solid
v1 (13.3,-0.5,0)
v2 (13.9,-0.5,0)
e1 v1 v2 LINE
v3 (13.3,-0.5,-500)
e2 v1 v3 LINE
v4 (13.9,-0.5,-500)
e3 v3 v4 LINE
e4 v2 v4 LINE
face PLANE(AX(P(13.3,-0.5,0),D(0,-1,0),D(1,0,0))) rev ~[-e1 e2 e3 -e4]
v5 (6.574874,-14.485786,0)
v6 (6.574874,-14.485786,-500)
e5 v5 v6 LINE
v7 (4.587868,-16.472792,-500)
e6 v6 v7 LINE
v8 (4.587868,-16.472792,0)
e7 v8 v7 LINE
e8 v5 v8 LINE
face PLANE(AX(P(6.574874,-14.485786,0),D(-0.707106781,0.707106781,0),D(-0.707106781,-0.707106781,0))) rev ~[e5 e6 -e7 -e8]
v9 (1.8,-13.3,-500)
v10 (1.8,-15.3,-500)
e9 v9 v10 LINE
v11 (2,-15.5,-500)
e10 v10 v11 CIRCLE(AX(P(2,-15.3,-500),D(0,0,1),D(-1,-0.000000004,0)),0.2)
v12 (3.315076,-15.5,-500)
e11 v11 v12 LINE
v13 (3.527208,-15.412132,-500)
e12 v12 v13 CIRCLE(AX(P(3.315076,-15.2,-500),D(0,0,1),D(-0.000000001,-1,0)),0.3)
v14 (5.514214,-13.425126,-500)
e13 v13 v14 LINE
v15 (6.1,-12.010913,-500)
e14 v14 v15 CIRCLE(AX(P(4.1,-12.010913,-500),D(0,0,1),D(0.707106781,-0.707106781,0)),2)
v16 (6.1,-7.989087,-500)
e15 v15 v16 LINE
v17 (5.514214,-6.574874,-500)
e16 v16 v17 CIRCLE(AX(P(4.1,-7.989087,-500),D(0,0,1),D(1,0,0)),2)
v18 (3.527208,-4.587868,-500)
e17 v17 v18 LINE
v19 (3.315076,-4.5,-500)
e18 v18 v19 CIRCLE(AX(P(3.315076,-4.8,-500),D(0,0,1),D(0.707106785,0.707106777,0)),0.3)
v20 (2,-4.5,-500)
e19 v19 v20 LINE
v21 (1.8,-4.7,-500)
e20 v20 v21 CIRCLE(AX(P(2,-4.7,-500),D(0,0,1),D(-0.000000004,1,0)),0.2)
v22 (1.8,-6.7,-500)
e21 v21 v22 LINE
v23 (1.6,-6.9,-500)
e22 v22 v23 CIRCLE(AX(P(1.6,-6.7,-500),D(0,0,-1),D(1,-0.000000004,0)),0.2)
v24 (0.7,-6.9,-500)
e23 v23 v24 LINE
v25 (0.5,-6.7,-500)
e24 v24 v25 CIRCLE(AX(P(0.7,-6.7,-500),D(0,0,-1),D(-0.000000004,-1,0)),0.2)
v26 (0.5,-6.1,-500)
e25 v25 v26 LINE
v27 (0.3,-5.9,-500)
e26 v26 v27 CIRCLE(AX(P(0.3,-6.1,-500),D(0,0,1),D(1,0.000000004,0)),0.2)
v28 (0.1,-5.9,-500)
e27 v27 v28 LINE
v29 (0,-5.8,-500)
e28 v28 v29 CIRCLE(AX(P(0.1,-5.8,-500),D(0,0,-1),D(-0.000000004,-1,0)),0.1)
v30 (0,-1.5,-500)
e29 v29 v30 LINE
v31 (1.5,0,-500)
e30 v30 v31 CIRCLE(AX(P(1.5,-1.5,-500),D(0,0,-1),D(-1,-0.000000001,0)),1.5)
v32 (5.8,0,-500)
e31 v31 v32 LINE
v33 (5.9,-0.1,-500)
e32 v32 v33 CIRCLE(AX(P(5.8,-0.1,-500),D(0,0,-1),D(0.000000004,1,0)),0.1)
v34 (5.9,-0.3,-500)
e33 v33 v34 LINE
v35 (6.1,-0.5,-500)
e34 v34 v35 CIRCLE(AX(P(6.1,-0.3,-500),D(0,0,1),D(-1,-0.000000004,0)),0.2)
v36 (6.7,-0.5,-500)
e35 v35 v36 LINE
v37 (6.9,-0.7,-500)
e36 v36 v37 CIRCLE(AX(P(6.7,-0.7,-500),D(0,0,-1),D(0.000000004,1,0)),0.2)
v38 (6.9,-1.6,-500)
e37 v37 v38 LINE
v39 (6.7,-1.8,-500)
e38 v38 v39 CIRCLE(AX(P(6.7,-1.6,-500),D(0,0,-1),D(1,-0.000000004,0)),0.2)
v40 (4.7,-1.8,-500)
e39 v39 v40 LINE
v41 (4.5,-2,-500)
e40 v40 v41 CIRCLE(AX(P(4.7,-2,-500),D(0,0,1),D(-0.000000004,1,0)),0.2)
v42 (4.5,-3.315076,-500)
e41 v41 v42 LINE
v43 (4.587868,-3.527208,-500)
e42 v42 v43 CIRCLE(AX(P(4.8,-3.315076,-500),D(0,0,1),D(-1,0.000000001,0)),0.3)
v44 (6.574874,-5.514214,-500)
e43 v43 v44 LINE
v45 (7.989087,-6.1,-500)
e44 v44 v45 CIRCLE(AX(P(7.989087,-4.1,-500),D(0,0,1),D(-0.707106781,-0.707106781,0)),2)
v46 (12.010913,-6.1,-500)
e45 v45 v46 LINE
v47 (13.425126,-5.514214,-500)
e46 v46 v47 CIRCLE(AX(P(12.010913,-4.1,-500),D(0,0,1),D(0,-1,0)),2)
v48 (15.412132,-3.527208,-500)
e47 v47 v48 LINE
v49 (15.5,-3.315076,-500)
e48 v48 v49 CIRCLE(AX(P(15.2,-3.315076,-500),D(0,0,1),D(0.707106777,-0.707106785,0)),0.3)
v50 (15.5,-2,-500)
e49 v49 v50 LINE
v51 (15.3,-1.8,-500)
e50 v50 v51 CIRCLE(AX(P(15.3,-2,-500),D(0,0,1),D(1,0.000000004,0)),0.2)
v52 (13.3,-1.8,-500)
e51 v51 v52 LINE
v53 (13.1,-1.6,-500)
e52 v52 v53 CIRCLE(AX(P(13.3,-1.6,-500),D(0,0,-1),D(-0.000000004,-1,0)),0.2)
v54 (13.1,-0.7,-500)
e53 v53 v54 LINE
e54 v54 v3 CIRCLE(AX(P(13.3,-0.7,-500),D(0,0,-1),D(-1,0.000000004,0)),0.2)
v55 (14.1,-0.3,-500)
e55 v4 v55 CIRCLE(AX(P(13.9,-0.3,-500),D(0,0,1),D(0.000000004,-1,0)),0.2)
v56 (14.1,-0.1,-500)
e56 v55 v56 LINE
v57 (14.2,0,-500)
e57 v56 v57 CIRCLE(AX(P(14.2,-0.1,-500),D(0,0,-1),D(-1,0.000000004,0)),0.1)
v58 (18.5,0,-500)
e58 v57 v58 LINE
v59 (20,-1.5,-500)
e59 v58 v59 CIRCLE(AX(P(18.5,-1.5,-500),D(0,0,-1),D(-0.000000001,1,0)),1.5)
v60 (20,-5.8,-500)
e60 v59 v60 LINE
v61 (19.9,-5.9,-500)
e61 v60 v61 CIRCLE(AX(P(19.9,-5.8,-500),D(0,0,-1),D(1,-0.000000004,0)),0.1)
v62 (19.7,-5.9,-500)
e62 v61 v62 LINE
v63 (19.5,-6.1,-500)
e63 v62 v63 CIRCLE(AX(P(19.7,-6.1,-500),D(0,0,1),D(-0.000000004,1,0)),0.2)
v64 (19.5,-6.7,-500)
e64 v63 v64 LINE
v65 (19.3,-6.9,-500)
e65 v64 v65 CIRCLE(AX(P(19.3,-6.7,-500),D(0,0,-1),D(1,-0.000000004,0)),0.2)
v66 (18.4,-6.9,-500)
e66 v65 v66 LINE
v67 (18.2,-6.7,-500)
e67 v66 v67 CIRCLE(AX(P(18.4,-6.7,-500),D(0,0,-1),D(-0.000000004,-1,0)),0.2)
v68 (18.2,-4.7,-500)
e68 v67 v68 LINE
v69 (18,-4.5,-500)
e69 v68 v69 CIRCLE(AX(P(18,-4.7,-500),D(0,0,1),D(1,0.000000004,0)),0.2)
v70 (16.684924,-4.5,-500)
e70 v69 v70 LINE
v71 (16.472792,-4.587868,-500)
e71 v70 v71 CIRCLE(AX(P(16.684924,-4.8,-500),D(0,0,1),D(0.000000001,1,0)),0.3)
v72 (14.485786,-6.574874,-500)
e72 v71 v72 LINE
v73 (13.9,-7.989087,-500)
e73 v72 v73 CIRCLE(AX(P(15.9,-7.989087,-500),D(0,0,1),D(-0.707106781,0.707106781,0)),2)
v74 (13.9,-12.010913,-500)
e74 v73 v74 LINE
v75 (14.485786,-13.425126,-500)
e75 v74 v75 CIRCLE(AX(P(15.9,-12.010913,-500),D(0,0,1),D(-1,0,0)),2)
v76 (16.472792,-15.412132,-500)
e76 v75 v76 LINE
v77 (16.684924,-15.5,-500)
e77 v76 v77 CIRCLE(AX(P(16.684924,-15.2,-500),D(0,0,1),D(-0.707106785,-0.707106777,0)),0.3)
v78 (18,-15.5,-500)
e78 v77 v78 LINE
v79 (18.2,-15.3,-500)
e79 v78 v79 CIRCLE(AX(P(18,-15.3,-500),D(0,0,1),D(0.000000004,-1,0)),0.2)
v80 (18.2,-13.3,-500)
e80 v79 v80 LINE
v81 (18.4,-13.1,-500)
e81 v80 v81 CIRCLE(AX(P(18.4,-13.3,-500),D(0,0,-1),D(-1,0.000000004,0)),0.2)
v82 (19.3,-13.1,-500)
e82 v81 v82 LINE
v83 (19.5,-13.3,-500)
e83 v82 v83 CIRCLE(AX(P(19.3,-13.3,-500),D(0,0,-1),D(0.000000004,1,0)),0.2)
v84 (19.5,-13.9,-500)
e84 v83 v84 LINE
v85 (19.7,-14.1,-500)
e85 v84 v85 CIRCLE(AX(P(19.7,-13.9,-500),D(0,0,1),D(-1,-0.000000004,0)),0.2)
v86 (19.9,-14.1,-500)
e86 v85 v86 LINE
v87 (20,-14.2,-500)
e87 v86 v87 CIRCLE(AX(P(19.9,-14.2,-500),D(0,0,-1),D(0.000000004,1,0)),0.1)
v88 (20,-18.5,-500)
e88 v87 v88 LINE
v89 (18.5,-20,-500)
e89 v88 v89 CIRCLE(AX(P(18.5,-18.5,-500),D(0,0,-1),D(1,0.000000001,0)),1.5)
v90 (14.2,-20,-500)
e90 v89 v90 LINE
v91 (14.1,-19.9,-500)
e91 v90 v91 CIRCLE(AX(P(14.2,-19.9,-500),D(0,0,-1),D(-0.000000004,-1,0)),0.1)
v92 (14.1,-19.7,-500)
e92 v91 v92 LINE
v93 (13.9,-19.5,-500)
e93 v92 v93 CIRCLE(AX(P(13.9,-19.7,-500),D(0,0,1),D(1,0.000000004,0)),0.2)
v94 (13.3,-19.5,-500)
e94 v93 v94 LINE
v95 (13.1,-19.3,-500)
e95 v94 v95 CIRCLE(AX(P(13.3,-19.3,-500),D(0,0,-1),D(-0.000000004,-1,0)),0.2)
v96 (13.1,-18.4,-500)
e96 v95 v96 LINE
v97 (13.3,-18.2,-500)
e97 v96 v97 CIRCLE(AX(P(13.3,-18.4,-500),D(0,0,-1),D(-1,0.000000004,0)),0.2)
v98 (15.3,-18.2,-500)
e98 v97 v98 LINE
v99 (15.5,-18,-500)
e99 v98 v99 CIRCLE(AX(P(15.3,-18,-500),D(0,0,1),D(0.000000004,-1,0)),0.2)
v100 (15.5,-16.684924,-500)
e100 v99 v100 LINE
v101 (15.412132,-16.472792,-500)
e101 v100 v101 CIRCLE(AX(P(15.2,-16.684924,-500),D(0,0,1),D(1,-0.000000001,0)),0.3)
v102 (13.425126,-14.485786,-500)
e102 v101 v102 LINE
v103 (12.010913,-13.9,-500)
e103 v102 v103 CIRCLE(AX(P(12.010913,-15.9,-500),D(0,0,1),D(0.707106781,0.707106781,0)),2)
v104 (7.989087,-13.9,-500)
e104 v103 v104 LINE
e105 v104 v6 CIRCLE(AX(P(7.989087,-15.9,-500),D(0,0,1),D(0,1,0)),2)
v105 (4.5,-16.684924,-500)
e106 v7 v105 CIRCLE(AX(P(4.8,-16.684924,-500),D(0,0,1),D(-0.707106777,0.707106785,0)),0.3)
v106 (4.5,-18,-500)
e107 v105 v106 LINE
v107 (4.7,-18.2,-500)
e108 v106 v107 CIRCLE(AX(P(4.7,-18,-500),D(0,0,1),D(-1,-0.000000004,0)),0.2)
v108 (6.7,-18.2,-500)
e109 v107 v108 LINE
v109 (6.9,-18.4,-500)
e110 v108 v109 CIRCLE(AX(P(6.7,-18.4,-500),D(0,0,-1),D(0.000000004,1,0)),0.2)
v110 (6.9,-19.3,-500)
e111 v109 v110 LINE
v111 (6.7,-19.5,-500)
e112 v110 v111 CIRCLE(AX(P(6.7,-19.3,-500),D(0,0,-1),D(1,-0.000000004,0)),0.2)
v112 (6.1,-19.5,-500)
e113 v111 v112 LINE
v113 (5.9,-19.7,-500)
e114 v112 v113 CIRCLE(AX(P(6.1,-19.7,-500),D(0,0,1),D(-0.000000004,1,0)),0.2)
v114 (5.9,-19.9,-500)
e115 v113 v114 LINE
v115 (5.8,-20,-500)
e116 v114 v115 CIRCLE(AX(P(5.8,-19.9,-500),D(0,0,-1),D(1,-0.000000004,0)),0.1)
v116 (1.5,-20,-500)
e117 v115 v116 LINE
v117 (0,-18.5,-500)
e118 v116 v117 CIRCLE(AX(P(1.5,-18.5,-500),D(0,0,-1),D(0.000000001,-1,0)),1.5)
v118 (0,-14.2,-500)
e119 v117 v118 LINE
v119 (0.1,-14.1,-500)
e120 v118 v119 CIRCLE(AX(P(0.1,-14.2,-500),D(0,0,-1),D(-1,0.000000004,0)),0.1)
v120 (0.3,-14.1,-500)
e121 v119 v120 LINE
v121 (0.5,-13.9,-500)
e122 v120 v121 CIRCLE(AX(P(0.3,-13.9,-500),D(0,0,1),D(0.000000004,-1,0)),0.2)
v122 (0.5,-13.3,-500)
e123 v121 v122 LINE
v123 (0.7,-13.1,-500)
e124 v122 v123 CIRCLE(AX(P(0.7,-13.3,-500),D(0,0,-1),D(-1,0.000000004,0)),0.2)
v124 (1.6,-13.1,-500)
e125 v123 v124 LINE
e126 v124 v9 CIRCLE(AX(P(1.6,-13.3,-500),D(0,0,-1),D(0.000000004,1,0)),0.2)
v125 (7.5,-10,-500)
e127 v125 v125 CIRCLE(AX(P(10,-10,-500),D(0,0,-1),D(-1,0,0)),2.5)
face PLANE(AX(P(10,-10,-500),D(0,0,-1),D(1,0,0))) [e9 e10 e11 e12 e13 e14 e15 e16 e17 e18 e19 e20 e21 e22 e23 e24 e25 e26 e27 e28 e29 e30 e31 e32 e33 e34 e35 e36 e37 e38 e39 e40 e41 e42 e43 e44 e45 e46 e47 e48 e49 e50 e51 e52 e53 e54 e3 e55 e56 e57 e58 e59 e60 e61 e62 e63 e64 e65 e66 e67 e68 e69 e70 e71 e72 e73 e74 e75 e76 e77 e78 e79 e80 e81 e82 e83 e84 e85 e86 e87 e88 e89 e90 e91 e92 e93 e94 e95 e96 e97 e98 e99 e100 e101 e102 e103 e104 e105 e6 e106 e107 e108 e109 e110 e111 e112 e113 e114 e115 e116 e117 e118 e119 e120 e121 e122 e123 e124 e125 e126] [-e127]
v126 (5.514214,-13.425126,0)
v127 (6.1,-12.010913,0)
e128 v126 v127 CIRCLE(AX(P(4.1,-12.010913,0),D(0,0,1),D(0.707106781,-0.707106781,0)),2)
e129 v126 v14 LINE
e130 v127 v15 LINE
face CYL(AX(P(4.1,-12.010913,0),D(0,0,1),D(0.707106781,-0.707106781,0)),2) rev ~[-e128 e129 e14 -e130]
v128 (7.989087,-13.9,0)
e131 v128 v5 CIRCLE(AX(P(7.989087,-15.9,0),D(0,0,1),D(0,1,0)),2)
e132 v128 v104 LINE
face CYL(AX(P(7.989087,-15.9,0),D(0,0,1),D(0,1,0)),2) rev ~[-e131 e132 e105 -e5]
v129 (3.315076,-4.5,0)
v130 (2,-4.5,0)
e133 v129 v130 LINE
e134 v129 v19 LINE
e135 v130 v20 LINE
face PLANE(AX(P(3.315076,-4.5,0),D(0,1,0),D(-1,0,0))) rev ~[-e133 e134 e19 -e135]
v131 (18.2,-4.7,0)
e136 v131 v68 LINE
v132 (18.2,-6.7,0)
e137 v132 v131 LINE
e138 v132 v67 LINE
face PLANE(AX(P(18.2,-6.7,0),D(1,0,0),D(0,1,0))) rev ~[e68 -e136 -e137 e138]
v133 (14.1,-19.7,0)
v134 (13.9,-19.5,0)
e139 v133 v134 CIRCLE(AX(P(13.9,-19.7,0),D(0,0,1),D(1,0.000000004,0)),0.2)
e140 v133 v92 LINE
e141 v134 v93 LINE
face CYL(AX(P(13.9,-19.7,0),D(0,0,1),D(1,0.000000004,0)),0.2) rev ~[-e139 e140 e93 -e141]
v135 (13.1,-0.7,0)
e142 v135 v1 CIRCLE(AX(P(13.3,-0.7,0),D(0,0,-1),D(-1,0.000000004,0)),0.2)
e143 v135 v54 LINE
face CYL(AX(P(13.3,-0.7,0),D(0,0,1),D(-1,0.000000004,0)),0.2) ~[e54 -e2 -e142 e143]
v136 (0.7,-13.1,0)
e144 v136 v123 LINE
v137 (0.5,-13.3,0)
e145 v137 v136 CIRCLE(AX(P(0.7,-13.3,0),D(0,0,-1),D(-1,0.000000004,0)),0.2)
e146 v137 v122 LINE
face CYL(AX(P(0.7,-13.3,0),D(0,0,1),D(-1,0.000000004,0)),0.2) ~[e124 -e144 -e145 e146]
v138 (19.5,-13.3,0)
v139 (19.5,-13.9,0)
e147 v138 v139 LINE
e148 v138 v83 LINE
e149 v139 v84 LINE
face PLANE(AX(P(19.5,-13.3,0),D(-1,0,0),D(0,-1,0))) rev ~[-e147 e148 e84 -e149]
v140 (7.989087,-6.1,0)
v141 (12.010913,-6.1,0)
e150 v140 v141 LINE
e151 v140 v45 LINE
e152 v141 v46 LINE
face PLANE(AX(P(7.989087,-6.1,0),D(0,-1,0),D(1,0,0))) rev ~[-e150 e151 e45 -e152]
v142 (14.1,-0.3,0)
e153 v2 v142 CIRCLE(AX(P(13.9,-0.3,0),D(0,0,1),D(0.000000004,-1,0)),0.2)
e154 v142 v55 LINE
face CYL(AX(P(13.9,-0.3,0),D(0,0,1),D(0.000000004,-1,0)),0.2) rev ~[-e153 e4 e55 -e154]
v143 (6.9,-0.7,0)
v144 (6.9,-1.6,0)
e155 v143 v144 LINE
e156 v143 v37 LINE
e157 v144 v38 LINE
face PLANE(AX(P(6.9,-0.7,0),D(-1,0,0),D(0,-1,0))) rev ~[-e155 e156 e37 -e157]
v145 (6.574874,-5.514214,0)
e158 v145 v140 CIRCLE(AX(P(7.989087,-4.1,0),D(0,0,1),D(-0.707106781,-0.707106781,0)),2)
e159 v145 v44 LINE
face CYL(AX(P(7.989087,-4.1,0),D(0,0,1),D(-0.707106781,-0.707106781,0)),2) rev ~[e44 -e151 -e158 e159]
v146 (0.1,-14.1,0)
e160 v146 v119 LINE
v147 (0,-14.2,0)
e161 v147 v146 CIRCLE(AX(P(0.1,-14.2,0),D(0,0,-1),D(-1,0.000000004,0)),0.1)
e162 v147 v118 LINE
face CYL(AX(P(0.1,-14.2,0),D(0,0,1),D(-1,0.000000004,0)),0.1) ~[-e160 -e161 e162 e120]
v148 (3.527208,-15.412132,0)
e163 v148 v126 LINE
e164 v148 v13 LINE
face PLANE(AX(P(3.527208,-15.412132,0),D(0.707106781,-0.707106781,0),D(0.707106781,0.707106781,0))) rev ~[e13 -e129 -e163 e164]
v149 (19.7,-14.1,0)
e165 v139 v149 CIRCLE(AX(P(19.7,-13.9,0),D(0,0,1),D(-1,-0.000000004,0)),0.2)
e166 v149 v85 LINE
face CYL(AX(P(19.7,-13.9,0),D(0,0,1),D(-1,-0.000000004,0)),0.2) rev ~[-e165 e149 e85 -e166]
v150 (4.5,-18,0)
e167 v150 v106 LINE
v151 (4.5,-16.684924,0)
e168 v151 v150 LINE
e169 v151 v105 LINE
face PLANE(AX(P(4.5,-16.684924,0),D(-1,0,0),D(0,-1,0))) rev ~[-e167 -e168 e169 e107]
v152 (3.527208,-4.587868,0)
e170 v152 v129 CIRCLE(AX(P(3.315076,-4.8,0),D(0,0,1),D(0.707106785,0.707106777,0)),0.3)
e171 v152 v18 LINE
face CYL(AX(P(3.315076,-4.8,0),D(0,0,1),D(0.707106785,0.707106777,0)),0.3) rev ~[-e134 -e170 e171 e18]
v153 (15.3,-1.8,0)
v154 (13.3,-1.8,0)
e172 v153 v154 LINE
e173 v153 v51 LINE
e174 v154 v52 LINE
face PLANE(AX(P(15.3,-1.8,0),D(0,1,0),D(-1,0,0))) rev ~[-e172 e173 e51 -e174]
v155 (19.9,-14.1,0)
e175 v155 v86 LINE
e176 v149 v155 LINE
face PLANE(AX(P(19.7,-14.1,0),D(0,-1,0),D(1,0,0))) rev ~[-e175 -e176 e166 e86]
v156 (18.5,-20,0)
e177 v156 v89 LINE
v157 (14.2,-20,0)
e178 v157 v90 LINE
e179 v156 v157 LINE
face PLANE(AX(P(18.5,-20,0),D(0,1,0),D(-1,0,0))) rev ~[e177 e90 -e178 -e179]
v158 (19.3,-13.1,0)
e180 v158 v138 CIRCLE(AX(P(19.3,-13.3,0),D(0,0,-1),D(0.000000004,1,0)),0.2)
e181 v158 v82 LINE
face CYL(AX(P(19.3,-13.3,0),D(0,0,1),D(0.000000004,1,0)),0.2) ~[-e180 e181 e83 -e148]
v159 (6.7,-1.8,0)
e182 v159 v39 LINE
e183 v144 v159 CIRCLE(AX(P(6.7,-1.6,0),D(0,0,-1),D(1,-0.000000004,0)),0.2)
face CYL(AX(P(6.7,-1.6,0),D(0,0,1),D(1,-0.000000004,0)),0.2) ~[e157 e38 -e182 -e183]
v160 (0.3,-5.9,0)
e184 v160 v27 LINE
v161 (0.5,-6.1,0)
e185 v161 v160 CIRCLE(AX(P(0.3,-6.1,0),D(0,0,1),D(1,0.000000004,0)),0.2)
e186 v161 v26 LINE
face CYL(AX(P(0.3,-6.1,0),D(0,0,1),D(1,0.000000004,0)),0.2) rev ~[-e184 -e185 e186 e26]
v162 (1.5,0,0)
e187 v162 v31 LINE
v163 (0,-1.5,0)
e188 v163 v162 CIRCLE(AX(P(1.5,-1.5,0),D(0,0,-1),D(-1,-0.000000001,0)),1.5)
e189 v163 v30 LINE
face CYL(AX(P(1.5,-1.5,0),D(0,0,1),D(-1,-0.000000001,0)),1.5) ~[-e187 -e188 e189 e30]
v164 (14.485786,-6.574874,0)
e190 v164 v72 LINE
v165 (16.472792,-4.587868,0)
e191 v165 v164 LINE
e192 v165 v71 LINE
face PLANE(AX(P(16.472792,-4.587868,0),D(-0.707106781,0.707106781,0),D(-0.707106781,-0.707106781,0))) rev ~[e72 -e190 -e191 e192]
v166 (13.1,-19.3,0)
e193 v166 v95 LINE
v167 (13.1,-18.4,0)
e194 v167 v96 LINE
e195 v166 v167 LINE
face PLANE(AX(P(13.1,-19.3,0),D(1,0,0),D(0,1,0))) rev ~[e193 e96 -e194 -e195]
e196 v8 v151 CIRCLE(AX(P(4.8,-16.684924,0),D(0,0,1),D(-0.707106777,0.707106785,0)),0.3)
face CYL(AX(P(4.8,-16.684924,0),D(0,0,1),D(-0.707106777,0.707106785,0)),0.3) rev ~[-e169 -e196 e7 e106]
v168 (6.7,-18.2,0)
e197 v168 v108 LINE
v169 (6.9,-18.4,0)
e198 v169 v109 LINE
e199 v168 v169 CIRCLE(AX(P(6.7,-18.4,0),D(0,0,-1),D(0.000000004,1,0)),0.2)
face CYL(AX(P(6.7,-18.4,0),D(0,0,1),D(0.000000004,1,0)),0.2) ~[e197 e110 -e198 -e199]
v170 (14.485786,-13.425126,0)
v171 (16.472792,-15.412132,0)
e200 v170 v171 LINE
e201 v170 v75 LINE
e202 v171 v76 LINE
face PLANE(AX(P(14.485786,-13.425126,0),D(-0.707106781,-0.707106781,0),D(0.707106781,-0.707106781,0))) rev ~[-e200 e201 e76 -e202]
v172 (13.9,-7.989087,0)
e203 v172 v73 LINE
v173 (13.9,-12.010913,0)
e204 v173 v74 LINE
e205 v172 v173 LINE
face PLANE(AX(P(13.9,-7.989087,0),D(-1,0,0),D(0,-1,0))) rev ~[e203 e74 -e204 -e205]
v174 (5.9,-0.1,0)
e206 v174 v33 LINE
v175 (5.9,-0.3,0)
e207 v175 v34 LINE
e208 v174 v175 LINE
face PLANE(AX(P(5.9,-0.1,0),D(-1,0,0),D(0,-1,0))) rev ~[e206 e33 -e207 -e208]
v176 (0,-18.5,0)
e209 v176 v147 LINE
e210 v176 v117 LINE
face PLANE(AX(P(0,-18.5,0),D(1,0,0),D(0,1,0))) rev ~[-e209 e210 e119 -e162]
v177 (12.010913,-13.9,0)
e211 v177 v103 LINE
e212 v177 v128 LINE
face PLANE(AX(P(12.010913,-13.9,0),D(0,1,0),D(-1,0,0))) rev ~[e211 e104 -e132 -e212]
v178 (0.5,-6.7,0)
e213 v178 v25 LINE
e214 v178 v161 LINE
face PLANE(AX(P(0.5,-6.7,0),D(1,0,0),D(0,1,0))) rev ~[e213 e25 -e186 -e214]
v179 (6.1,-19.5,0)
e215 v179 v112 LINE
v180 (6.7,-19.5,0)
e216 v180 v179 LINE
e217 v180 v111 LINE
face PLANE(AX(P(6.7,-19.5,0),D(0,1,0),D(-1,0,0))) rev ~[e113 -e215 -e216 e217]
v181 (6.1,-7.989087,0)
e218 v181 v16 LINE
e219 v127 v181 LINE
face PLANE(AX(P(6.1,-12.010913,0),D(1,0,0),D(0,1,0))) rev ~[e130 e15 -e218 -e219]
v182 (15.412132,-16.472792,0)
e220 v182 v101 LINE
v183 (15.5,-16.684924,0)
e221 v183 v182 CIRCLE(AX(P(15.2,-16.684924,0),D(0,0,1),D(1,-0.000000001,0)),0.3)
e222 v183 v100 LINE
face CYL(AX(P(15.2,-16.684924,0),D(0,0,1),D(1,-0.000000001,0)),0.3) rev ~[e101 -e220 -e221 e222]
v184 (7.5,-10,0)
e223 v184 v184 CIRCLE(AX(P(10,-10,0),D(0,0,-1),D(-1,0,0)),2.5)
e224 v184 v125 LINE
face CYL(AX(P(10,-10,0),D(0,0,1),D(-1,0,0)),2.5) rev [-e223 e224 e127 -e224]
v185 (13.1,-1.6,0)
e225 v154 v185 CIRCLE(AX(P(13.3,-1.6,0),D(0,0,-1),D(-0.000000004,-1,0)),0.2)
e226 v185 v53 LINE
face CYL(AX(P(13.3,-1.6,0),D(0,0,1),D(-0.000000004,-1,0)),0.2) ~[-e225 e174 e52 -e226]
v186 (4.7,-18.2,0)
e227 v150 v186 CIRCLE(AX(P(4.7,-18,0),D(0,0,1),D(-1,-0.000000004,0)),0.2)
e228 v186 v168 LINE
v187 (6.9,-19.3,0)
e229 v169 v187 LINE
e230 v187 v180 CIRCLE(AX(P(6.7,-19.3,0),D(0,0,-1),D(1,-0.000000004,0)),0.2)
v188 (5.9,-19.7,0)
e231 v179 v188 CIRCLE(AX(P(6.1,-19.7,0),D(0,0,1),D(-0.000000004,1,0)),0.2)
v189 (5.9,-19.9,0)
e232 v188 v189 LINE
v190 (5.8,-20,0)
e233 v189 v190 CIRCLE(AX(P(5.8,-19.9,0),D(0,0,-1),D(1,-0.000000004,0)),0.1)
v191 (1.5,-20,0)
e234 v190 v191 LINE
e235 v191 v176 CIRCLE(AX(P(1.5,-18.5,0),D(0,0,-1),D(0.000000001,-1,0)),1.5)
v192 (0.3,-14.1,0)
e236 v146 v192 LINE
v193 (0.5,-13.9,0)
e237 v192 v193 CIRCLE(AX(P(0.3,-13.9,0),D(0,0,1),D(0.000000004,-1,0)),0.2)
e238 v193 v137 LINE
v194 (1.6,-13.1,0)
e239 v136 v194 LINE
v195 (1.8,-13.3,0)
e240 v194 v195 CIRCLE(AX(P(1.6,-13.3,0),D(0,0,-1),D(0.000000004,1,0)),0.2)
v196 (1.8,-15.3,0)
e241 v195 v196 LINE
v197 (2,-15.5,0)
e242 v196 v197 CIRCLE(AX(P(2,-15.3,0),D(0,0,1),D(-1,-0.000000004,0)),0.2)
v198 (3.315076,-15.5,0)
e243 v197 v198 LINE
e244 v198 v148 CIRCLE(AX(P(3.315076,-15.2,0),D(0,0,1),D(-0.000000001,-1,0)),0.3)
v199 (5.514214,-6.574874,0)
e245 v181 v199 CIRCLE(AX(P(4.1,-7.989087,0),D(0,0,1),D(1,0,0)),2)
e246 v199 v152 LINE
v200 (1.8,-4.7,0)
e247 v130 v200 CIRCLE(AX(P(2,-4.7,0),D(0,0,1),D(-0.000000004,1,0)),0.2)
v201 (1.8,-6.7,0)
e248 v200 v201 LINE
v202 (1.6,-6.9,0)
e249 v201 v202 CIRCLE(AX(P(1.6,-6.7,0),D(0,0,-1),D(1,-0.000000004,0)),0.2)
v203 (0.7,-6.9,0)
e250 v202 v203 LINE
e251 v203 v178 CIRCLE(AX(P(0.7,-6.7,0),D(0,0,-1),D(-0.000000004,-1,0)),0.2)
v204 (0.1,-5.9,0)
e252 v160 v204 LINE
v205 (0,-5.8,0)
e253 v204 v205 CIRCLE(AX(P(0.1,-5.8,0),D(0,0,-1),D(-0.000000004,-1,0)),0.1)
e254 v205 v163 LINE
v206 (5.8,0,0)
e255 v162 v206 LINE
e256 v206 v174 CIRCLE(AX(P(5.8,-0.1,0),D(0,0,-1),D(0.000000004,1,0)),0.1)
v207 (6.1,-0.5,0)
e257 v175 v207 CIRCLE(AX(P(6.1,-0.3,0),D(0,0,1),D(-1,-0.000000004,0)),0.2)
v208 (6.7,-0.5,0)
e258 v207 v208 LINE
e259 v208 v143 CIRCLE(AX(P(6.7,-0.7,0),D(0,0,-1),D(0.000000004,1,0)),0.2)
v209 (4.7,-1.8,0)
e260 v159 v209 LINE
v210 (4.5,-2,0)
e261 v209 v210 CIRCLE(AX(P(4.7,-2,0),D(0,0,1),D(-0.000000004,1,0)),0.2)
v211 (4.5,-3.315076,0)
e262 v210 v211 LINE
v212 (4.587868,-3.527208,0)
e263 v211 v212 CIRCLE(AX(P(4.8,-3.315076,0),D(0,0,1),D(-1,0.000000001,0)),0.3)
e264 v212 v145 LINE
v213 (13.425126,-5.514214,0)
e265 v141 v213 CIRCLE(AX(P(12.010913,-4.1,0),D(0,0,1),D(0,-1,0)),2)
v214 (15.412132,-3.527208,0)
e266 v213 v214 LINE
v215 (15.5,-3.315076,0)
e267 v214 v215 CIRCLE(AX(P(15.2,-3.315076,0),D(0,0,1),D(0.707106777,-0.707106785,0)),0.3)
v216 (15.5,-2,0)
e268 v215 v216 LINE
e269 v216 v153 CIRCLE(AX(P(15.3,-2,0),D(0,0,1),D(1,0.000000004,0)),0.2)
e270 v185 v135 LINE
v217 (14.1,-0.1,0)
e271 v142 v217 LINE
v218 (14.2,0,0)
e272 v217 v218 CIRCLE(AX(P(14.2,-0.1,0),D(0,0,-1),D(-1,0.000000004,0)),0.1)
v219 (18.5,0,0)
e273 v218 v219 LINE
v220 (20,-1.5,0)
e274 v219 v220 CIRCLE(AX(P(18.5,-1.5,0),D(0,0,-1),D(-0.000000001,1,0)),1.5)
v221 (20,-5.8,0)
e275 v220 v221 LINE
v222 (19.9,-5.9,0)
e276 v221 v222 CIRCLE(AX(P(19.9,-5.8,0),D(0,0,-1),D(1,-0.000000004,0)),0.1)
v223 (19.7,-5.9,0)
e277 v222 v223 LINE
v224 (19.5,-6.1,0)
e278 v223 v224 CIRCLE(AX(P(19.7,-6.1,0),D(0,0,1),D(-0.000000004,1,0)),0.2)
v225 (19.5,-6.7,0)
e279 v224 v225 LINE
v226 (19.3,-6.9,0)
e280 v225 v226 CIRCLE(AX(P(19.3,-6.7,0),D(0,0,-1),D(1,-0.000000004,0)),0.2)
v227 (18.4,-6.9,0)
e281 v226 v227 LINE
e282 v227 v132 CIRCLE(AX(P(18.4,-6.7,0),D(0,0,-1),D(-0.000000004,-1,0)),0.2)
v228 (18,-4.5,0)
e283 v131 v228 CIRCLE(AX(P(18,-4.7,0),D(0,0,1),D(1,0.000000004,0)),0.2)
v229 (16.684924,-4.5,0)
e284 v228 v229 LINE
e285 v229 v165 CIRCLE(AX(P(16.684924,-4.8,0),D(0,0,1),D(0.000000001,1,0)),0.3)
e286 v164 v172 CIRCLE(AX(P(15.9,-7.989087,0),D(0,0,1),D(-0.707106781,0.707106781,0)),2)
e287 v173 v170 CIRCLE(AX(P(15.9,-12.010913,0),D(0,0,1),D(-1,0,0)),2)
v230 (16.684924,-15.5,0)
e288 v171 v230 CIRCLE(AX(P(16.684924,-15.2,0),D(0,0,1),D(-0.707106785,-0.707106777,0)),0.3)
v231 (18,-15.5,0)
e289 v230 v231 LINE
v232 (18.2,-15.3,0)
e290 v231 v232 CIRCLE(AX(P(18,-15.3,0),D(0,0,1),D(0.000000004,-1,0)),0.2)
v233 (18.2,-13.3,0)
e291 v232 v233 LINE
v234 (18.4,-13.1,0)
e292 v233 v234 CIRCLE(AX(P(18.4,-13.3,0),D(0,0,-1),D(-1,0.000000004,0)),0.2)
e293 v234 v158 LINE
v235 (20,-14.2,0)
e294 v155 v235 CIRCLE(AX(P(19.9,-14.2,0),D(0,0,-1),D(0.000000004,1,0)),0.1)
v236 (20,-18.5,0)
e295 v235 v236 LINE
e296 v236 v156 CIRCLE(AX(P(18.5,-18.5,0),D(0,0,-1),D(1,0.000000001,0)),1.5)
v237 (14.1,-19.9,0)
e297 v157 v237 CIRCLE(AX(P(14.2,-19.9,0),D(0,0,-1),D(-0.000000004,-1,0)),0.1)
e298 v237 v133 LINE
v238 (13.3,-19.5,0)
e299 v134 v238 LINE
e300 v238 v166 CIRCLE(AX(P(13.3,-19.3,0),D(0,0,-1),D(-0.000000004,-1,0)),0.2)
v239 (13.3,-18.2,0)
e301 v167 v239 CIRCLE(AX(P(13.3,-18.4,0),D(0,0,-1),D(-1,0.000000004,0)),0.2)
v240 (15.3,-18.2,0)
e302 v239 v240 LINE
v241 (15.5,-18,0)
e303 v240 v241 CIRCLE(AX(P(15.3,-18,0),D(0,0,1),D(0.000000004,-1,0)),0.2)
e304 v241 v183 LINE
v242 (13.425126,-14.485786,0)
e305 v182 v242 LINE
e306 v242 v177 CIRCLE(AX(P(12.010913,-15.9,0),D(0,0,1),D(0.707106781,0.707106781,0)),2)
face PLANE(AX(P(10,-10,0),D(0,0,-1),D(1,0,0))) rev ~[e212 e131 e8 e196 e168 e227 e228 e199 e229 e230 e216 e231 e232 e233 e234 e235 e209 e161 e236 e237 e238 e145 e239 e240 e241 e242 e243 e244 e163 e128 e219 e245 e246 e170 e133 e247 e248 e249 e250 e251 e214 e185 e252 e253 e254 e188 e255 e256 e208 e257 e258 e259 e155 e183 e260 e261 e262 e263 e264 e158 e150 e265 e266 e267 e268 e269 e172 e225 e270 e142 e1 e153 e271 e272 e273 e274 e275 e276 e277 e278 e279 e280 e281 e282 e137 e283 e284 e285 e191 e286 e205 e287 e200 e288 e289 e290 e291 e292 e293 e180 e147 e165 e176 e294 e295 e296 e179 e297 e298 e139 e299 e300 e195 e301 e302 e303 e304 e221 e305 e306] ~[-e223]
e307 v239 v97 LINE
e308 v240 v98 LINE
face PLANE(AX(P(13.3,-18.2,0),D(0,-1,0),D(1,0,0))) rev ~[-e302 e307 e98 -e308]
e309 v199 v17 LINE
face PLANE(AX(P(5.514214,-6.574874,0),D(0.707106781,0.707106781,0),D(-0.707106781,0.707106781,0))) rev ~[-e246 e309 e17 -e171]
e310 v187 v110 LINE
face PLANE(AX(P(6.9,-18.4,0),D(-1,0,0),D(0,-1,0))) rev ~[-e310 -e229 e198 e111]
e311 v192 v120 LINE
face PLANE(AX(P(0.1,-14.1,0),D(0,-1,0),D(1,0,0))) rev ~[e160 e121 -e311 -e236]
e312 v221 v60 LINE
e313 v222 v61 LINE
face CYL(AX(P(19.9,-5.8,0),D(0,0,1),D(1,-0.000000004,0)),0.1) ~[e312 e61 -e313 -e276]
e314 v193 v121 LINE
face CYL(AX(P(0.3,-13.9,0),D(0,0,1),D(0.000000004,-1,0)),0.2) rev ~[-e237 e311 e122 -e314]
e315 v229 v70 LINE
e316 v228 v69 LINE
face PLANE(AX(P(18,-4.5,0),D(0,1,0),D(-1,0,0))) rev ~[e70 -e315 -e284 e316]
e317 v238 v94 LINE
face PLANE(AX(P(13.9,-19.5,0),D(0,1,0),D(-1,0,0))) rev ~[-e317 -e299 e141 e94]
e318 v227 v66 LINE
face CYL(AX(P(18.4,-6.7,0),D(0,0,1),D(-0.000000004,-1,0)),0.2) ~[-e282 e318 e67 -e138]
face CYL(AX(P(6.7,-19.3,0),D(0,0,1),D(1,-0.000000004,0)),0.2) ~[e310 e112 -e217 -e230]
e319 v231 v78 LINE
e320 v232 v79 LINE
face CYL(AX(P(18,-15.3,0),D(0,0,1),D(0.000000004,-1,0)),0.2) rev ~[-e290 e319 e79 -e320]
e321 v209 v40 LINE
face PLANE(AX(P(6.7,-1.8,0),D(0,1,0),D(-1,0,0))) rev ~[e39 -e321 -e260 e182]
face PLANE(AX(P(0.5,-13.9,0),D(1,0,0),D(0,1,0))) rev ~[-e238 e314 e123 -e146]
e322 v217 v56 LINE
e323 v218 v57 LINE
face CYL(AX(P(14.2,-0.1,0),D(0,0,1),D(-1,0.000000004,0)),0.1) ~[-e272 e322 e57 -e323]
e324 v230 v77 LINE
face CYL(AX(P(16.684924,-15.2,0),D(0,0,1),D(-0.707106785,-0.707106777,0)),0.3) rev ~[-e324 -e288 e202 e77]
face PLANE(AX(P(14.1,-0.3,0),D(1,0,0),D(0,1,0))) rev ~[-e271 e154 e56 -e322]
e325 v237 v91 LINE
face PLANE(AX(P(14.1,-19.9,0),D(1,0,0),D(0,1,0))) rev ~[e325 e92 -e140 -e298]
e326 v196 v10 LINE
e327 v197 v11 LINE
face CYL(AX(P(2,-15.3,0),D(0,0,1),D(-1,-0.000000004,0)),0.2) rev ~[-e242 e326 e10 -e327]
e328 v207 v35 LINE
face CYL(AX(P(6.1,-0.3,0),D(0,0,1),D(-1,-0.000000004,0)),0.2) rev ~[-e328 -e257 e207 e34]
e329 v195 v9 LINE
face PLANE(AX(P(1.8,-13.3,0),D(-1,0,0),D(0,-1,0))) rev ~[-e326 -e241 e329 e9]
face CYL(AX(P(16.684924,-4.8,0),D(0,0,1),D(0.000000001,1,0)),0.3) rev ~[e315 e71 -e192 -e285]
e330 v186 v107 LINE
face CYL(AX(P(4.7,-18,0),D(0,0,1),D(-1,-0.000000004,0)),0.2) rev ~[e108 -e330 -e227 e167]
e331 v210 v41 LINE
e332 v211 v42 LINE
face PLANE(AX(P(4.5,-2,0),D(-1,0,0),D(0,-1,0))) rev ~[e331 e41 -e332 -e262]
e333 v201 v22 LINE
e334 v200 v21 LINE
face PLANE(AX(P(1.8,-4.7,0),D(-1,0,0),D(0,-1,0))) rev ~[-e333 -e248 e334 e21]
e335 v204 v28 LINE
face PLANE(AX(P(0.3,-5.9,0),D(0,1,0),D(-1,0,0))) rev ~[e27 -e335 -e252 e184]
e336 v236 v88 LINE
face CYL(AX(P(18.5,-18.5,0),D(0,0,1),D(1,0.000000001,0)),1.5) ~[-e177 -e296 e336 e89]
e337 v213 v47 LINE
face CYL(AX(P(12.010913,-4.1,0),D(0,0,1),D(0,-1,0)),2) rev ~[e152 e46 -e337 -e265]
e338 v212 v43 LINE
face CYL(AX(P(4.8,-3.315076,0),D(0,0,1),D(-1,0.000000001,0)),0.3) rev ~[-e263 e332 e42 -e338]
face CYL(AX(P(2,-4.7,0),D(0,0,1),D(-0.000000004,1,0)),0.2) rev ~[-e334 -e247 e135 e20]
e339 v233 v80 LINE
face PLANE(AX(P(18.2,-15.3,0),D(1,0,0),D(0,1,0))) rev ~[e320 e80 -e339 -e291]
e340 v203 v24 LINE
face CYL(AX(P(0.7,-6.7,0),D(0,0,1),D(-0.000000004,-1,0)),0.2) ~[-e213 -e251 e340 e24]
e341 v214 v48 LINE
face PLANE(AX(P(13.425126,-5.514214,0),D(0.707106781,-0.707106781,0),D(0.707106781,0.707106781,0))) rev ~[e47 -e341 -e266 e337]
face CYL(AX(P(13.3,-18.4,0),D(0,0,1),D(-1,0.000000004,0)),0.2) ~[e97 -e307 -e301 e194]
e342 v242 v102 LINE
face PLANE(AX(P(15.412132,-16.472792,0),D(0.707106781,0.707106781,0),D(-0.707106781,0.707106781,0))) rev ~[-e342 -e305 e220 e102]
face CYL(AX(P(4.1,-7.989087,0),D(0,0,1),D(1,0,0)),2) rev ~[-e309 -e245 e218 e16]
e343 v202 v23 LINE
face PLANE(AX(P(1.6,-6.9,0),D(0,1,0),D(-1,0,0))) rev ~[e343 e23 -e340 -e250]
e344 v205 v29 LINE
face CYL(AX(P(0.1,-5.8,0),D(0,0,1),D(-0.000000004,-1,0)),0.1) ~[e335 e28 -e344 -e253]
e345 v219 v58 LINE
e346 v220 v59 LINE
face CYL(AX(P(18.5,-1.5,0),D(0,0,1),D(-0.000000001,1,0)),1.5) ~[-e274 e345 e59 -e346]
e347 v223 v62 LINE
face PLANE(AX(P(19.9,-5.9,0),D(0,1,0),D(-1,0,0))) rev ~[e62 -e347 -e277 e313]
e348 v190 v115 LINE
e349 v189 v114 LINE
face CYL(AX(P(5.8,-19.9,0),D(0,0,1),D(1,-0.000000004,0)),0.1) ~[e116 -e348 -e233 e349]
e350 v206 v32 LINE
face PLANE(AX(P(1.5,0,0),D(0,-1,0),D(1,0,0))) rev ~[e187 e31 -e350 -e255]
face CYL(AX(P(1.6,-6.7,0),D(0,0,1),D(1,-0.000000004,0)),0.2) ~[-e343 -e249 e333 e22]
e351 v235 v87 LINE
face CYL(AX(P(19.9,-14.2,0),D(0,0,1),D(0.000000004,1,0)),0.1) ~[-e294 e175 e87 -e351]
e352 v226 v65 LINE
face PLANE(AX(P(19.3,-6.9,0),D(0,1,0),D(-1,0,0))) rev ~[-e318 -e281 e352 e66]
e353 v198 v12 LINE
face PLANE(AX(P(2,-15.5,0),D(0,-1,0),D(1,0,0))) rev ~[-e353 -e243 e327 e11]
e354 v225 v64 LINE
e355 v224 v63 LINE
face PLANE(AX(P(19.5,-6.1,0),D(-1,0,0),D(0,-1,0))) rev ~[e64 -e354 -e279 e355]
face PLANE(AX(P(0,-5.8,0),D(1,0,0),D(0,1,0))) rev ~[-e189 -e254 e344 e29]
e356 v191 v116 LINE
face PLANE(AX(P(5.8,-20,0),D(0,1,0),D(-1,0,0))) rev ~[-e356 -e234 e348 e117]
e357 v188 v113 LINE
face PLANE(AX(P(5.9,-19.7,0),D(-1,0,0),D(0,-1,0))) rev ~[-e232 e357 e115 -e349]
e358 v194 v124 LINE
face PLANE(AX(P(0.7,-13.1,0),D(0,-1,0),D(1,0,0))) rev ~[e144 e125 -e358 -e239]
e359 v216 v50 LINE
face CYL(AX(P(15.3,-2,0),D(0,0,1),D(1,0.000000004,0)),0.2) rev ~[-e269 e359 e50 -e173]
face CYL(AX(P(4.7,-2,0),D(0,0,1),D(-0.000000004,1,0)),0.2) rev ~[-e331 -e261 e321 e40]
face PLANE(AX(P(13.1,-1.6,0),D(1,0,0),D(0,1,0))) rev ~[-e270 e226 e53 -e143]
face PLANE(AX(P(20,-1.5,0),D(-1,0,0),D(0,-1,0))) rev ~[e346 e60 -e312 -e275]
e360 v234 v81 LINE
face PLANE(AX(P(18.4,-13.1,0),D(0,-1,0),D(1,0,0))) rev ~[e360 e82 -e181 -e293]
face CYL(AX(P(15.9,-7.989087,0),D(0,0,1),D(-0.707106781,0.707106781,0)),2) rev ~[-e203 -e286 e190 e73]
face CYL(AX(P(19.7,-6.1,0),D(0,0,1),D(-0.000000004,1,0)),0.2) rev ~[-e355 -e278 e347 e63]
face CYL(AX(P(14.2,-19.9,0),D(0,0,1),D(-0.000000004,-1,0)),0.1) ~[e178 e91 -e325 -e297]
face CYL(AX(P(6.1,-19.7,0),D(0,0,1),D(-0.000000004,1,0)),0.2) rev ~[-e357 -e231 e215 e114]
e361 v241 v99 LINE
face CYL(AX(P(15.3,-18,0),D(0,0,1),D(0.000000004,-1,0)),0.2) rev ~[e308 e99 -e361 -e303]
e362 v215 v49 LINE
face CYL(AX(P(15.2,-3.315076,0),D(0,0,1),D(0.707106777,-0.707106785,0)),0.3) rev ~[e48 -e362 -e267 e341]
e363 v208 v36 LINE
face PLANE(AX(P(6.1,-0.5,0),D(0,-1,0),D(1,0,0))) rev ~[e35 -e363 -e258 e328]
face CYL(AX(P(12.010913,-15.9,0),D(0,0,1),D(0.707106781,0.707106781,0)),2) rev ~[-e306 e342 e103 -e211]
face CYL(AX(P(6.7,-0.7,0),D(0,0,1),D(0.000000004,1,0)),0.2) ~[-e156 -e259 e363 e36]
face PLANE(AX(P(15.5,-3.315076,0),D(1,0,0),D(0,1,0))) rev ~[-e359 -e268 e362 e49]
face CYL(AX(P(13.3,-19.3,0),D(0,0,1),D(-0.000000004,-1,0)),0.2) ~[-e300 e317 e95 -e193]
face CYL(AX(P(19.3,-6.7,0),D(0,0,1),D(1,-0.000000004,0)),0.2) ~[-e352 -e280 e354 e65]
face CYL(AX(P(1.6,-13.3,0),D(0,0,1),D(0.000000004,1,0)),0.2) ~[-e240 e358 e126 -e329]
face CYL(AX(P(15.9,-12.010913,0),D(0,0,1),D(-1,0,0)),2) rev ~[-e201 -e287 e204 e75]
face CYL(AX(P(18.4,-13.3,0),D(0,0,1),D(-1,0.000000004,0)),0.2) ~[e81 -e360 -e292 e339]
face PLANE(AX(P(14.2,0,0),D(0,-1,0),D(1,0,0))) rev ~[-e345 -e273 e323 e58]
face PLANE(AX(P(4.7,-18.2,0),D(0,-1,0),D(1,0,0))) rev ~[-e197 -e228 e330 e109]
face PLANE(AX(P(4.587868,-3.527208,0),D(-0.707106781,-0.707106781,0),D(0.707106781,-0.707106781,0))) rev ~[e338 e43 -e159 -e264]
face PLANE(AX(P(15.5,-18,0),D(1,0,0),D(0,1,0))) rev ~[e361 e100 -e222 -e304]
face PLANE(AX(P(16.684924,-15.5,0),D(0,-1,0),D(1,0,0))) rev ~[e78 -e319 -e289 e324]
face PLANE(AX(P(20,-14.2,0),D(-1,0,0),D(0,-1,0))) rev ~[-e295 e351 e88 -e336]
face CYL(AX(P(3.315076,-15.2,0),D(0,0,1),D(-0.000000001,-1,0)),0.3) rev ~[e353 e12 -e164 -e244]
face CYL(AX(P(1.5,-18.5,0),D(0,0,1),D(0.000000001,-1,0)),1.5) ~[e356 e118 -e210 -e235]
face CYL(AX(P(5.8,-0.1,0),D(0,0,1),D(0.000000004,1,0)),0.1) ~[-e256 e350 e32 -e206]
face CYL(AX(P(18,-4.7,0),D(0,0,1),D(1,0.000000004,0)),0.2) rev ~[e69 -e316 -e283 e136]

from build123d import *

# Parameters (mm, degrees)
SKETCH1_R           = 2.5
BOSS_EXTRUDE1_DEPTH = 500


with BuildPart() as part:
    # Sketch1 → Boss-Extrude1 (new body)
    with BuildSketch(Plane(origin=(0, 0, 0), x_dir=(1, 0, 0), z_dir=(0, 0, -1))):
        with BuildLine():
            Line((1.5, 0), (5.8, 0))
            ThreePointArc((5.8, 0), (5.870710678, 0.029289322), (5.9, 0.1))
            Line((5.9, 0.1), (5.9, 0.3))
            ThreePointArc((5.9, 0.3), (5.958578644, 0.441421356), (6.1, 0.5))
            Line((6.1, 0.5), (6.7, 0.5))
            ThreePointArc((6.7, 0.5), (6.841421356, 0.558578644), (6.9, 0.7))
            Line((6.9, 0.7), (6.9, 1.6))
            ThreePointArc((6.9, 1.6), (6.841421356, 1.741421356), (6.7, 1.8))
            Line((6.7, 1.8), (4.7, 1.8))
            ThreePointArc((4.7, 1.8), (4.558578644, 1.858578644), (4.5, 2))
            Line((4.5, 2), (4.5, 3.31507576))
            ThreePointArc((4.5, 3.31507576), (4.52283614, 3.429880789), (4.587867966, 3.527207794))
            Line((4.587867966, 3.527207794), (6.574873734, 5.514213562))
            ThreePointArc((6.574873734, 5.514213562), (7.223720432, 5.947759065), (7.989087297, 6.1))
            Line((7.989087297, 6.1), (12.010912703, 6.1))
            ThreePointArc((12.010912703, 6.1), (12.776279568, 5.947759065), (13.425126266, 5.514213562))
            Line((13.425126266, 5.514213562), (15.412132034, 3.527207794))
            ThreePointArc((15.412132034, 3.527207794), (15.47716386, 3.429880789), (15.5, 3.31507576))
            Line((15.5, 3.31507576), (15.5, 2))
            ThreePointArc((15.5, 2), (15.441421356, 1.858578644), (15.3, 1.8))
            Line((15.3, 1.8), (13.3, 1.8))
            ThreePointArc((13.3, 1.8), (13.158578644, 1.741421356), (13.1, 1.6))
            Line((13.1, 1.6), (13.1, 0.7))
            ThreePointArc((13.1, 0.7), (13.158578644, 0.558578644), (13.3, 0.5))
            Line((13.3, 0.5), (13.9, 0.5))
            ThreePointArc((13.9, 0.5), (14.041421356, 0.441421356), (14.1, 0.3))
            Line((14.1, 0.3), (14.1, 0.1))
            ThreePointArc((14.1, 0.1), (14.129289322, 0.029289322), (14.2, 0))
            Line((14.2, 0), (18.5, 0))
            ThreePointArc((18.5, 0), (19.560660172, 0.439339828), (20, 1.5))
            Line((20, 1.5), (20, 5.8))
            ThreePointArc((20, 5.8), (19.970710678, 5.870710678), (19.9, 5.9))
            Line((19.9, 5.9), (19.7, 5.9))
            ThreePointArc((19.7, 5.9), (19.558578644, 5.958578644), (19.5, 6.1))
            Line((19.5, 6.1), (19.5, 6.7))
            ThreePointArc((19.5, 6.7), (19.441421356, 6.841421356), (19.3, 6.9))
            Line((19.3, 6.9), (18.4, 6.9))
            ThreePointArc((18.4, 6.9), (18.258578644, 6.841421356), (18.2, 6.7))
            Line((18.2, 6.7), (18.2, 4.7))
            ThreePointArc((18.2, 4.7), (18.141421356, 4.558578644), (18, 4.5))
            Line((18, 4.5), (16.68492424, 4.5))
            ThreePointArc((16.68492424, 4.5), (16.570119211, 4.52283614), (16.472792206, 4.587867966))
            Line((16.472792206, 4.587867966), (14.485786438, 6.574873734))
            ThreePointArc((14.485786438, 6.574873734), (14.052240935, 7.223720432), (13.9, 7.989087297))
            Line((13.9, 7.989087297), (13.9, 12.010912703))
            ThreePointArc((13.9, 12.010912703), (14.052240935, 12.776279568), (14.485786438, 13.425126266))
            Line((14.485786438, 13.425126266), (16.472792206, 15.412132034))
            ThreePointArc((16.472792206, 15.412132034), (16.570119211, 15.47716386), (16.68492424, 15.5))
            Line((16.68492424, 15.5), (18, 15.5))
            ThreePointArc((18, 15.5), (18.141421356, 15.441421356), (18.2, 15.3))
            Line((18.2, 15.3), (18.2, 13.3))
            ThreePointArc((18.2, 13.3), (18.258578644, 13.158578644), (18.4, 13.1))
            Line((18.4, 13.1), (19.3, 13.1))
            ThreePointArc((19.3, 13.1), (19.441421356, 13.158578644), (19.5, 13.3))
            Line((19.5, 13.3), (19.5, 13.9))
            ThreePointArc((19.5, 13.9), (19.558578644, 14.041421356), (19.7, 14.1))
            Line((19.7, 14.1), (19.9, 14.1))
            ThreePointArc((19.9, 14.1), (19.970710678, 14.129289322), (20, 14.2))
            Line((20, 14.2), (20, 18.5))
            ThreePointArc((20, 18.5), (19.560660172, 19.560660172), (18.5, 20))
            Line((18.5, 20), (14.2, 20))
            ThreePointArc((14.2, 20), (14.129289322, 19.970710678), (14.1, 19.9))
            Line((14.1, 19.9), (14.1, 19.7))
            ThreePointArc((14.1, 19.7), (14.041421356, 19.558578644), (13.9, 19.5))
            Line((13.9, 19.5), (13.3, 19.5))
            ThreePointArc((13.3, 19.5), (13.158578644, 19.441421356), (13.1, 19.3))
            Line((13.1, 19.3), (13.1, 18.4))
            ThreePointArc((13.1, 18.4), (13.158578644, 18.258578644), (13.3, 18.2))
            Line((13.3, 18.2), (15.3, 18.2))
            ThreePointArc((15.3, 18.2), (15.441421356, 18.141421356), (15.5, 18))
            Line((15.5, 18), (15.5, 16.68492424))
            ThreePointArc((15.5, 16.68492424), (15.47716386, 16.570119211), (15.412132034, 16.472792206))
            Line((15.412132034, 16.472792206), (13.425126266, 14.485786438))
            ThreePointArc((13.425126266, 14.485786438), (12.776279568, 14.052240935), (12.010912703, 13.9))
            Line((12.010912703, 13.9), (7.989087297, 13.9))
            ThreePointArc((7.989087297, 13.9), (7.223720432, 14.052240935), (6.574873734, 14.485786438))
            Line((6.574873734, 14.485786438), (4.587867966, 16.472792206))
            ThreePointArc((4.587867966, 16.472792206), (4.52283614, 16.570119211), (4.5, 16.68492424))
            Line((4.5, 16.68492424), (4.5, 18))
            ThreePointArc((4.5, 18), (4.558578644, 18.141421356), (4.7, 18.2))
            Line((4.7, 18.2), (6.7, 18.2))
            ThreePointArc((6.7, 18.2), (6.841421356, 18.258578644), (6.9, 18.4))
            Line((6.9, 18.4), (6.9, 19.3))
            ThreePointArc((6.9, 19.3), (6.841421356, 19.441421356), (6.7, 19.5))
            Line((6.7, 19.5), (6.1, 19.5))
            ThreePointArc((6.1, 19.5), (5.958578644, 19.558578644), (5.9, 19.7))
            Line((5.9, 19.7), (5.9, 19.9))
            ThreePointArc((5.9, 19.9), (5.870710678, 19.970710678), (5.8, 20))
            Line((5.8, 20), (1.5, 20))
            ThreePointArc((1.5, 20), (0.439339828, 19.560660172), (0, 18.5))
            Line((0, 18.5), (0, 14.2))
            ThreePointArc((0, 14.2), (0.029289322, 14.129289322), (0.1, 14.1))
            Line((0.1, 14.1), (0.3, 14.1))
            ThreePointArc((0.3, 14.1), (0.441421356, 14.041421356), (0.5, 13.9))
            Line((0.5, 13.9), (0.5, 13.3))
            ThreePointArc((0.5, 13.3), (0.558578644, 13.158578644), (0.7, 13.1))
            Line((0.7, 13.1), (1.6, 13.1))
            ThreePointArc((1.6, 13.1), (1.741421356, 13.158578644), (1.8, 13.3))
            Line((1.8, 13.3), (1.8, 15.3))
            ThreePointArc((1.8, 15.3), (1.858578644, 15.441421356), (2, 15.5))
            Line((2, 15.5), (3.31507576, 15.5))
            ThreePointArc((3.31507576, 15.5), (3.429880789, 15.47716386), (3.527207794, 15.412132034))
            Line((3.527207794, 15.412132034), (5.514213562, 13.425126266))
            ThreePointArc((5.514213562, 13.425126266), (5.947759065, 12.776279568), (6.1, 12.010912703))
            Line((6.1, 12.010912703), (6.1, 7.989087297))
            ThreePointArc((6.1, 7.989087297), (5.947759065, 7.223720432), (5.514213562, 6.574873734))
            Line((5.514213562, 6.574873734), (3.527207794, 4.587867966))
            ThreePointArc((3.527207794, 4.587867966), (3.429880789, 4.52283614), (3.31507576, 4.5))
            Line((3.31507576, 4.5), (2, 4.5))
            ThreePointArc((2, 4.5), (1.858578644, 4.558578644), (1.8, 4.7))
            Line((1.8, 4.7), (1.8, 6.7))
            ThreePointArc((1.8, 6.7), (1.741421356, 6.841421356), (1.6, 6.9))
            Line((1.6, 6.9), (0.7, 6.9))
            ThreePointArc((0.7, 6.9), (0.558578644, 6.841421356), (0.5, 6.7))
            Line((0.5, 6.7), (0.5, 6.1))
            ThreePointArc((0.5, 6.1), (0.441421356, 5.958578644), (0.3, 5.9))
            Line((0.3, 5.9), (0.1, 5.9))
            ThreePointArc((0.1, 5.9), (0.029289322, 5.870710678), (0, 5.8))
            Line((0, 5.8), (0, 1.5))
            ThreePointArc((0, 1.5), (0.439339828, 0.439339828), (1.5, 0))
        make_face()
        with Locations(Location((10, 10, 0), (0, 0, 180))):
            Circle(SKETCH1_R, mode=Mode.SUBTRACT)
    extrude(amount=BOSS_EXTRUDE1_DEPTH)


solid = part.part
